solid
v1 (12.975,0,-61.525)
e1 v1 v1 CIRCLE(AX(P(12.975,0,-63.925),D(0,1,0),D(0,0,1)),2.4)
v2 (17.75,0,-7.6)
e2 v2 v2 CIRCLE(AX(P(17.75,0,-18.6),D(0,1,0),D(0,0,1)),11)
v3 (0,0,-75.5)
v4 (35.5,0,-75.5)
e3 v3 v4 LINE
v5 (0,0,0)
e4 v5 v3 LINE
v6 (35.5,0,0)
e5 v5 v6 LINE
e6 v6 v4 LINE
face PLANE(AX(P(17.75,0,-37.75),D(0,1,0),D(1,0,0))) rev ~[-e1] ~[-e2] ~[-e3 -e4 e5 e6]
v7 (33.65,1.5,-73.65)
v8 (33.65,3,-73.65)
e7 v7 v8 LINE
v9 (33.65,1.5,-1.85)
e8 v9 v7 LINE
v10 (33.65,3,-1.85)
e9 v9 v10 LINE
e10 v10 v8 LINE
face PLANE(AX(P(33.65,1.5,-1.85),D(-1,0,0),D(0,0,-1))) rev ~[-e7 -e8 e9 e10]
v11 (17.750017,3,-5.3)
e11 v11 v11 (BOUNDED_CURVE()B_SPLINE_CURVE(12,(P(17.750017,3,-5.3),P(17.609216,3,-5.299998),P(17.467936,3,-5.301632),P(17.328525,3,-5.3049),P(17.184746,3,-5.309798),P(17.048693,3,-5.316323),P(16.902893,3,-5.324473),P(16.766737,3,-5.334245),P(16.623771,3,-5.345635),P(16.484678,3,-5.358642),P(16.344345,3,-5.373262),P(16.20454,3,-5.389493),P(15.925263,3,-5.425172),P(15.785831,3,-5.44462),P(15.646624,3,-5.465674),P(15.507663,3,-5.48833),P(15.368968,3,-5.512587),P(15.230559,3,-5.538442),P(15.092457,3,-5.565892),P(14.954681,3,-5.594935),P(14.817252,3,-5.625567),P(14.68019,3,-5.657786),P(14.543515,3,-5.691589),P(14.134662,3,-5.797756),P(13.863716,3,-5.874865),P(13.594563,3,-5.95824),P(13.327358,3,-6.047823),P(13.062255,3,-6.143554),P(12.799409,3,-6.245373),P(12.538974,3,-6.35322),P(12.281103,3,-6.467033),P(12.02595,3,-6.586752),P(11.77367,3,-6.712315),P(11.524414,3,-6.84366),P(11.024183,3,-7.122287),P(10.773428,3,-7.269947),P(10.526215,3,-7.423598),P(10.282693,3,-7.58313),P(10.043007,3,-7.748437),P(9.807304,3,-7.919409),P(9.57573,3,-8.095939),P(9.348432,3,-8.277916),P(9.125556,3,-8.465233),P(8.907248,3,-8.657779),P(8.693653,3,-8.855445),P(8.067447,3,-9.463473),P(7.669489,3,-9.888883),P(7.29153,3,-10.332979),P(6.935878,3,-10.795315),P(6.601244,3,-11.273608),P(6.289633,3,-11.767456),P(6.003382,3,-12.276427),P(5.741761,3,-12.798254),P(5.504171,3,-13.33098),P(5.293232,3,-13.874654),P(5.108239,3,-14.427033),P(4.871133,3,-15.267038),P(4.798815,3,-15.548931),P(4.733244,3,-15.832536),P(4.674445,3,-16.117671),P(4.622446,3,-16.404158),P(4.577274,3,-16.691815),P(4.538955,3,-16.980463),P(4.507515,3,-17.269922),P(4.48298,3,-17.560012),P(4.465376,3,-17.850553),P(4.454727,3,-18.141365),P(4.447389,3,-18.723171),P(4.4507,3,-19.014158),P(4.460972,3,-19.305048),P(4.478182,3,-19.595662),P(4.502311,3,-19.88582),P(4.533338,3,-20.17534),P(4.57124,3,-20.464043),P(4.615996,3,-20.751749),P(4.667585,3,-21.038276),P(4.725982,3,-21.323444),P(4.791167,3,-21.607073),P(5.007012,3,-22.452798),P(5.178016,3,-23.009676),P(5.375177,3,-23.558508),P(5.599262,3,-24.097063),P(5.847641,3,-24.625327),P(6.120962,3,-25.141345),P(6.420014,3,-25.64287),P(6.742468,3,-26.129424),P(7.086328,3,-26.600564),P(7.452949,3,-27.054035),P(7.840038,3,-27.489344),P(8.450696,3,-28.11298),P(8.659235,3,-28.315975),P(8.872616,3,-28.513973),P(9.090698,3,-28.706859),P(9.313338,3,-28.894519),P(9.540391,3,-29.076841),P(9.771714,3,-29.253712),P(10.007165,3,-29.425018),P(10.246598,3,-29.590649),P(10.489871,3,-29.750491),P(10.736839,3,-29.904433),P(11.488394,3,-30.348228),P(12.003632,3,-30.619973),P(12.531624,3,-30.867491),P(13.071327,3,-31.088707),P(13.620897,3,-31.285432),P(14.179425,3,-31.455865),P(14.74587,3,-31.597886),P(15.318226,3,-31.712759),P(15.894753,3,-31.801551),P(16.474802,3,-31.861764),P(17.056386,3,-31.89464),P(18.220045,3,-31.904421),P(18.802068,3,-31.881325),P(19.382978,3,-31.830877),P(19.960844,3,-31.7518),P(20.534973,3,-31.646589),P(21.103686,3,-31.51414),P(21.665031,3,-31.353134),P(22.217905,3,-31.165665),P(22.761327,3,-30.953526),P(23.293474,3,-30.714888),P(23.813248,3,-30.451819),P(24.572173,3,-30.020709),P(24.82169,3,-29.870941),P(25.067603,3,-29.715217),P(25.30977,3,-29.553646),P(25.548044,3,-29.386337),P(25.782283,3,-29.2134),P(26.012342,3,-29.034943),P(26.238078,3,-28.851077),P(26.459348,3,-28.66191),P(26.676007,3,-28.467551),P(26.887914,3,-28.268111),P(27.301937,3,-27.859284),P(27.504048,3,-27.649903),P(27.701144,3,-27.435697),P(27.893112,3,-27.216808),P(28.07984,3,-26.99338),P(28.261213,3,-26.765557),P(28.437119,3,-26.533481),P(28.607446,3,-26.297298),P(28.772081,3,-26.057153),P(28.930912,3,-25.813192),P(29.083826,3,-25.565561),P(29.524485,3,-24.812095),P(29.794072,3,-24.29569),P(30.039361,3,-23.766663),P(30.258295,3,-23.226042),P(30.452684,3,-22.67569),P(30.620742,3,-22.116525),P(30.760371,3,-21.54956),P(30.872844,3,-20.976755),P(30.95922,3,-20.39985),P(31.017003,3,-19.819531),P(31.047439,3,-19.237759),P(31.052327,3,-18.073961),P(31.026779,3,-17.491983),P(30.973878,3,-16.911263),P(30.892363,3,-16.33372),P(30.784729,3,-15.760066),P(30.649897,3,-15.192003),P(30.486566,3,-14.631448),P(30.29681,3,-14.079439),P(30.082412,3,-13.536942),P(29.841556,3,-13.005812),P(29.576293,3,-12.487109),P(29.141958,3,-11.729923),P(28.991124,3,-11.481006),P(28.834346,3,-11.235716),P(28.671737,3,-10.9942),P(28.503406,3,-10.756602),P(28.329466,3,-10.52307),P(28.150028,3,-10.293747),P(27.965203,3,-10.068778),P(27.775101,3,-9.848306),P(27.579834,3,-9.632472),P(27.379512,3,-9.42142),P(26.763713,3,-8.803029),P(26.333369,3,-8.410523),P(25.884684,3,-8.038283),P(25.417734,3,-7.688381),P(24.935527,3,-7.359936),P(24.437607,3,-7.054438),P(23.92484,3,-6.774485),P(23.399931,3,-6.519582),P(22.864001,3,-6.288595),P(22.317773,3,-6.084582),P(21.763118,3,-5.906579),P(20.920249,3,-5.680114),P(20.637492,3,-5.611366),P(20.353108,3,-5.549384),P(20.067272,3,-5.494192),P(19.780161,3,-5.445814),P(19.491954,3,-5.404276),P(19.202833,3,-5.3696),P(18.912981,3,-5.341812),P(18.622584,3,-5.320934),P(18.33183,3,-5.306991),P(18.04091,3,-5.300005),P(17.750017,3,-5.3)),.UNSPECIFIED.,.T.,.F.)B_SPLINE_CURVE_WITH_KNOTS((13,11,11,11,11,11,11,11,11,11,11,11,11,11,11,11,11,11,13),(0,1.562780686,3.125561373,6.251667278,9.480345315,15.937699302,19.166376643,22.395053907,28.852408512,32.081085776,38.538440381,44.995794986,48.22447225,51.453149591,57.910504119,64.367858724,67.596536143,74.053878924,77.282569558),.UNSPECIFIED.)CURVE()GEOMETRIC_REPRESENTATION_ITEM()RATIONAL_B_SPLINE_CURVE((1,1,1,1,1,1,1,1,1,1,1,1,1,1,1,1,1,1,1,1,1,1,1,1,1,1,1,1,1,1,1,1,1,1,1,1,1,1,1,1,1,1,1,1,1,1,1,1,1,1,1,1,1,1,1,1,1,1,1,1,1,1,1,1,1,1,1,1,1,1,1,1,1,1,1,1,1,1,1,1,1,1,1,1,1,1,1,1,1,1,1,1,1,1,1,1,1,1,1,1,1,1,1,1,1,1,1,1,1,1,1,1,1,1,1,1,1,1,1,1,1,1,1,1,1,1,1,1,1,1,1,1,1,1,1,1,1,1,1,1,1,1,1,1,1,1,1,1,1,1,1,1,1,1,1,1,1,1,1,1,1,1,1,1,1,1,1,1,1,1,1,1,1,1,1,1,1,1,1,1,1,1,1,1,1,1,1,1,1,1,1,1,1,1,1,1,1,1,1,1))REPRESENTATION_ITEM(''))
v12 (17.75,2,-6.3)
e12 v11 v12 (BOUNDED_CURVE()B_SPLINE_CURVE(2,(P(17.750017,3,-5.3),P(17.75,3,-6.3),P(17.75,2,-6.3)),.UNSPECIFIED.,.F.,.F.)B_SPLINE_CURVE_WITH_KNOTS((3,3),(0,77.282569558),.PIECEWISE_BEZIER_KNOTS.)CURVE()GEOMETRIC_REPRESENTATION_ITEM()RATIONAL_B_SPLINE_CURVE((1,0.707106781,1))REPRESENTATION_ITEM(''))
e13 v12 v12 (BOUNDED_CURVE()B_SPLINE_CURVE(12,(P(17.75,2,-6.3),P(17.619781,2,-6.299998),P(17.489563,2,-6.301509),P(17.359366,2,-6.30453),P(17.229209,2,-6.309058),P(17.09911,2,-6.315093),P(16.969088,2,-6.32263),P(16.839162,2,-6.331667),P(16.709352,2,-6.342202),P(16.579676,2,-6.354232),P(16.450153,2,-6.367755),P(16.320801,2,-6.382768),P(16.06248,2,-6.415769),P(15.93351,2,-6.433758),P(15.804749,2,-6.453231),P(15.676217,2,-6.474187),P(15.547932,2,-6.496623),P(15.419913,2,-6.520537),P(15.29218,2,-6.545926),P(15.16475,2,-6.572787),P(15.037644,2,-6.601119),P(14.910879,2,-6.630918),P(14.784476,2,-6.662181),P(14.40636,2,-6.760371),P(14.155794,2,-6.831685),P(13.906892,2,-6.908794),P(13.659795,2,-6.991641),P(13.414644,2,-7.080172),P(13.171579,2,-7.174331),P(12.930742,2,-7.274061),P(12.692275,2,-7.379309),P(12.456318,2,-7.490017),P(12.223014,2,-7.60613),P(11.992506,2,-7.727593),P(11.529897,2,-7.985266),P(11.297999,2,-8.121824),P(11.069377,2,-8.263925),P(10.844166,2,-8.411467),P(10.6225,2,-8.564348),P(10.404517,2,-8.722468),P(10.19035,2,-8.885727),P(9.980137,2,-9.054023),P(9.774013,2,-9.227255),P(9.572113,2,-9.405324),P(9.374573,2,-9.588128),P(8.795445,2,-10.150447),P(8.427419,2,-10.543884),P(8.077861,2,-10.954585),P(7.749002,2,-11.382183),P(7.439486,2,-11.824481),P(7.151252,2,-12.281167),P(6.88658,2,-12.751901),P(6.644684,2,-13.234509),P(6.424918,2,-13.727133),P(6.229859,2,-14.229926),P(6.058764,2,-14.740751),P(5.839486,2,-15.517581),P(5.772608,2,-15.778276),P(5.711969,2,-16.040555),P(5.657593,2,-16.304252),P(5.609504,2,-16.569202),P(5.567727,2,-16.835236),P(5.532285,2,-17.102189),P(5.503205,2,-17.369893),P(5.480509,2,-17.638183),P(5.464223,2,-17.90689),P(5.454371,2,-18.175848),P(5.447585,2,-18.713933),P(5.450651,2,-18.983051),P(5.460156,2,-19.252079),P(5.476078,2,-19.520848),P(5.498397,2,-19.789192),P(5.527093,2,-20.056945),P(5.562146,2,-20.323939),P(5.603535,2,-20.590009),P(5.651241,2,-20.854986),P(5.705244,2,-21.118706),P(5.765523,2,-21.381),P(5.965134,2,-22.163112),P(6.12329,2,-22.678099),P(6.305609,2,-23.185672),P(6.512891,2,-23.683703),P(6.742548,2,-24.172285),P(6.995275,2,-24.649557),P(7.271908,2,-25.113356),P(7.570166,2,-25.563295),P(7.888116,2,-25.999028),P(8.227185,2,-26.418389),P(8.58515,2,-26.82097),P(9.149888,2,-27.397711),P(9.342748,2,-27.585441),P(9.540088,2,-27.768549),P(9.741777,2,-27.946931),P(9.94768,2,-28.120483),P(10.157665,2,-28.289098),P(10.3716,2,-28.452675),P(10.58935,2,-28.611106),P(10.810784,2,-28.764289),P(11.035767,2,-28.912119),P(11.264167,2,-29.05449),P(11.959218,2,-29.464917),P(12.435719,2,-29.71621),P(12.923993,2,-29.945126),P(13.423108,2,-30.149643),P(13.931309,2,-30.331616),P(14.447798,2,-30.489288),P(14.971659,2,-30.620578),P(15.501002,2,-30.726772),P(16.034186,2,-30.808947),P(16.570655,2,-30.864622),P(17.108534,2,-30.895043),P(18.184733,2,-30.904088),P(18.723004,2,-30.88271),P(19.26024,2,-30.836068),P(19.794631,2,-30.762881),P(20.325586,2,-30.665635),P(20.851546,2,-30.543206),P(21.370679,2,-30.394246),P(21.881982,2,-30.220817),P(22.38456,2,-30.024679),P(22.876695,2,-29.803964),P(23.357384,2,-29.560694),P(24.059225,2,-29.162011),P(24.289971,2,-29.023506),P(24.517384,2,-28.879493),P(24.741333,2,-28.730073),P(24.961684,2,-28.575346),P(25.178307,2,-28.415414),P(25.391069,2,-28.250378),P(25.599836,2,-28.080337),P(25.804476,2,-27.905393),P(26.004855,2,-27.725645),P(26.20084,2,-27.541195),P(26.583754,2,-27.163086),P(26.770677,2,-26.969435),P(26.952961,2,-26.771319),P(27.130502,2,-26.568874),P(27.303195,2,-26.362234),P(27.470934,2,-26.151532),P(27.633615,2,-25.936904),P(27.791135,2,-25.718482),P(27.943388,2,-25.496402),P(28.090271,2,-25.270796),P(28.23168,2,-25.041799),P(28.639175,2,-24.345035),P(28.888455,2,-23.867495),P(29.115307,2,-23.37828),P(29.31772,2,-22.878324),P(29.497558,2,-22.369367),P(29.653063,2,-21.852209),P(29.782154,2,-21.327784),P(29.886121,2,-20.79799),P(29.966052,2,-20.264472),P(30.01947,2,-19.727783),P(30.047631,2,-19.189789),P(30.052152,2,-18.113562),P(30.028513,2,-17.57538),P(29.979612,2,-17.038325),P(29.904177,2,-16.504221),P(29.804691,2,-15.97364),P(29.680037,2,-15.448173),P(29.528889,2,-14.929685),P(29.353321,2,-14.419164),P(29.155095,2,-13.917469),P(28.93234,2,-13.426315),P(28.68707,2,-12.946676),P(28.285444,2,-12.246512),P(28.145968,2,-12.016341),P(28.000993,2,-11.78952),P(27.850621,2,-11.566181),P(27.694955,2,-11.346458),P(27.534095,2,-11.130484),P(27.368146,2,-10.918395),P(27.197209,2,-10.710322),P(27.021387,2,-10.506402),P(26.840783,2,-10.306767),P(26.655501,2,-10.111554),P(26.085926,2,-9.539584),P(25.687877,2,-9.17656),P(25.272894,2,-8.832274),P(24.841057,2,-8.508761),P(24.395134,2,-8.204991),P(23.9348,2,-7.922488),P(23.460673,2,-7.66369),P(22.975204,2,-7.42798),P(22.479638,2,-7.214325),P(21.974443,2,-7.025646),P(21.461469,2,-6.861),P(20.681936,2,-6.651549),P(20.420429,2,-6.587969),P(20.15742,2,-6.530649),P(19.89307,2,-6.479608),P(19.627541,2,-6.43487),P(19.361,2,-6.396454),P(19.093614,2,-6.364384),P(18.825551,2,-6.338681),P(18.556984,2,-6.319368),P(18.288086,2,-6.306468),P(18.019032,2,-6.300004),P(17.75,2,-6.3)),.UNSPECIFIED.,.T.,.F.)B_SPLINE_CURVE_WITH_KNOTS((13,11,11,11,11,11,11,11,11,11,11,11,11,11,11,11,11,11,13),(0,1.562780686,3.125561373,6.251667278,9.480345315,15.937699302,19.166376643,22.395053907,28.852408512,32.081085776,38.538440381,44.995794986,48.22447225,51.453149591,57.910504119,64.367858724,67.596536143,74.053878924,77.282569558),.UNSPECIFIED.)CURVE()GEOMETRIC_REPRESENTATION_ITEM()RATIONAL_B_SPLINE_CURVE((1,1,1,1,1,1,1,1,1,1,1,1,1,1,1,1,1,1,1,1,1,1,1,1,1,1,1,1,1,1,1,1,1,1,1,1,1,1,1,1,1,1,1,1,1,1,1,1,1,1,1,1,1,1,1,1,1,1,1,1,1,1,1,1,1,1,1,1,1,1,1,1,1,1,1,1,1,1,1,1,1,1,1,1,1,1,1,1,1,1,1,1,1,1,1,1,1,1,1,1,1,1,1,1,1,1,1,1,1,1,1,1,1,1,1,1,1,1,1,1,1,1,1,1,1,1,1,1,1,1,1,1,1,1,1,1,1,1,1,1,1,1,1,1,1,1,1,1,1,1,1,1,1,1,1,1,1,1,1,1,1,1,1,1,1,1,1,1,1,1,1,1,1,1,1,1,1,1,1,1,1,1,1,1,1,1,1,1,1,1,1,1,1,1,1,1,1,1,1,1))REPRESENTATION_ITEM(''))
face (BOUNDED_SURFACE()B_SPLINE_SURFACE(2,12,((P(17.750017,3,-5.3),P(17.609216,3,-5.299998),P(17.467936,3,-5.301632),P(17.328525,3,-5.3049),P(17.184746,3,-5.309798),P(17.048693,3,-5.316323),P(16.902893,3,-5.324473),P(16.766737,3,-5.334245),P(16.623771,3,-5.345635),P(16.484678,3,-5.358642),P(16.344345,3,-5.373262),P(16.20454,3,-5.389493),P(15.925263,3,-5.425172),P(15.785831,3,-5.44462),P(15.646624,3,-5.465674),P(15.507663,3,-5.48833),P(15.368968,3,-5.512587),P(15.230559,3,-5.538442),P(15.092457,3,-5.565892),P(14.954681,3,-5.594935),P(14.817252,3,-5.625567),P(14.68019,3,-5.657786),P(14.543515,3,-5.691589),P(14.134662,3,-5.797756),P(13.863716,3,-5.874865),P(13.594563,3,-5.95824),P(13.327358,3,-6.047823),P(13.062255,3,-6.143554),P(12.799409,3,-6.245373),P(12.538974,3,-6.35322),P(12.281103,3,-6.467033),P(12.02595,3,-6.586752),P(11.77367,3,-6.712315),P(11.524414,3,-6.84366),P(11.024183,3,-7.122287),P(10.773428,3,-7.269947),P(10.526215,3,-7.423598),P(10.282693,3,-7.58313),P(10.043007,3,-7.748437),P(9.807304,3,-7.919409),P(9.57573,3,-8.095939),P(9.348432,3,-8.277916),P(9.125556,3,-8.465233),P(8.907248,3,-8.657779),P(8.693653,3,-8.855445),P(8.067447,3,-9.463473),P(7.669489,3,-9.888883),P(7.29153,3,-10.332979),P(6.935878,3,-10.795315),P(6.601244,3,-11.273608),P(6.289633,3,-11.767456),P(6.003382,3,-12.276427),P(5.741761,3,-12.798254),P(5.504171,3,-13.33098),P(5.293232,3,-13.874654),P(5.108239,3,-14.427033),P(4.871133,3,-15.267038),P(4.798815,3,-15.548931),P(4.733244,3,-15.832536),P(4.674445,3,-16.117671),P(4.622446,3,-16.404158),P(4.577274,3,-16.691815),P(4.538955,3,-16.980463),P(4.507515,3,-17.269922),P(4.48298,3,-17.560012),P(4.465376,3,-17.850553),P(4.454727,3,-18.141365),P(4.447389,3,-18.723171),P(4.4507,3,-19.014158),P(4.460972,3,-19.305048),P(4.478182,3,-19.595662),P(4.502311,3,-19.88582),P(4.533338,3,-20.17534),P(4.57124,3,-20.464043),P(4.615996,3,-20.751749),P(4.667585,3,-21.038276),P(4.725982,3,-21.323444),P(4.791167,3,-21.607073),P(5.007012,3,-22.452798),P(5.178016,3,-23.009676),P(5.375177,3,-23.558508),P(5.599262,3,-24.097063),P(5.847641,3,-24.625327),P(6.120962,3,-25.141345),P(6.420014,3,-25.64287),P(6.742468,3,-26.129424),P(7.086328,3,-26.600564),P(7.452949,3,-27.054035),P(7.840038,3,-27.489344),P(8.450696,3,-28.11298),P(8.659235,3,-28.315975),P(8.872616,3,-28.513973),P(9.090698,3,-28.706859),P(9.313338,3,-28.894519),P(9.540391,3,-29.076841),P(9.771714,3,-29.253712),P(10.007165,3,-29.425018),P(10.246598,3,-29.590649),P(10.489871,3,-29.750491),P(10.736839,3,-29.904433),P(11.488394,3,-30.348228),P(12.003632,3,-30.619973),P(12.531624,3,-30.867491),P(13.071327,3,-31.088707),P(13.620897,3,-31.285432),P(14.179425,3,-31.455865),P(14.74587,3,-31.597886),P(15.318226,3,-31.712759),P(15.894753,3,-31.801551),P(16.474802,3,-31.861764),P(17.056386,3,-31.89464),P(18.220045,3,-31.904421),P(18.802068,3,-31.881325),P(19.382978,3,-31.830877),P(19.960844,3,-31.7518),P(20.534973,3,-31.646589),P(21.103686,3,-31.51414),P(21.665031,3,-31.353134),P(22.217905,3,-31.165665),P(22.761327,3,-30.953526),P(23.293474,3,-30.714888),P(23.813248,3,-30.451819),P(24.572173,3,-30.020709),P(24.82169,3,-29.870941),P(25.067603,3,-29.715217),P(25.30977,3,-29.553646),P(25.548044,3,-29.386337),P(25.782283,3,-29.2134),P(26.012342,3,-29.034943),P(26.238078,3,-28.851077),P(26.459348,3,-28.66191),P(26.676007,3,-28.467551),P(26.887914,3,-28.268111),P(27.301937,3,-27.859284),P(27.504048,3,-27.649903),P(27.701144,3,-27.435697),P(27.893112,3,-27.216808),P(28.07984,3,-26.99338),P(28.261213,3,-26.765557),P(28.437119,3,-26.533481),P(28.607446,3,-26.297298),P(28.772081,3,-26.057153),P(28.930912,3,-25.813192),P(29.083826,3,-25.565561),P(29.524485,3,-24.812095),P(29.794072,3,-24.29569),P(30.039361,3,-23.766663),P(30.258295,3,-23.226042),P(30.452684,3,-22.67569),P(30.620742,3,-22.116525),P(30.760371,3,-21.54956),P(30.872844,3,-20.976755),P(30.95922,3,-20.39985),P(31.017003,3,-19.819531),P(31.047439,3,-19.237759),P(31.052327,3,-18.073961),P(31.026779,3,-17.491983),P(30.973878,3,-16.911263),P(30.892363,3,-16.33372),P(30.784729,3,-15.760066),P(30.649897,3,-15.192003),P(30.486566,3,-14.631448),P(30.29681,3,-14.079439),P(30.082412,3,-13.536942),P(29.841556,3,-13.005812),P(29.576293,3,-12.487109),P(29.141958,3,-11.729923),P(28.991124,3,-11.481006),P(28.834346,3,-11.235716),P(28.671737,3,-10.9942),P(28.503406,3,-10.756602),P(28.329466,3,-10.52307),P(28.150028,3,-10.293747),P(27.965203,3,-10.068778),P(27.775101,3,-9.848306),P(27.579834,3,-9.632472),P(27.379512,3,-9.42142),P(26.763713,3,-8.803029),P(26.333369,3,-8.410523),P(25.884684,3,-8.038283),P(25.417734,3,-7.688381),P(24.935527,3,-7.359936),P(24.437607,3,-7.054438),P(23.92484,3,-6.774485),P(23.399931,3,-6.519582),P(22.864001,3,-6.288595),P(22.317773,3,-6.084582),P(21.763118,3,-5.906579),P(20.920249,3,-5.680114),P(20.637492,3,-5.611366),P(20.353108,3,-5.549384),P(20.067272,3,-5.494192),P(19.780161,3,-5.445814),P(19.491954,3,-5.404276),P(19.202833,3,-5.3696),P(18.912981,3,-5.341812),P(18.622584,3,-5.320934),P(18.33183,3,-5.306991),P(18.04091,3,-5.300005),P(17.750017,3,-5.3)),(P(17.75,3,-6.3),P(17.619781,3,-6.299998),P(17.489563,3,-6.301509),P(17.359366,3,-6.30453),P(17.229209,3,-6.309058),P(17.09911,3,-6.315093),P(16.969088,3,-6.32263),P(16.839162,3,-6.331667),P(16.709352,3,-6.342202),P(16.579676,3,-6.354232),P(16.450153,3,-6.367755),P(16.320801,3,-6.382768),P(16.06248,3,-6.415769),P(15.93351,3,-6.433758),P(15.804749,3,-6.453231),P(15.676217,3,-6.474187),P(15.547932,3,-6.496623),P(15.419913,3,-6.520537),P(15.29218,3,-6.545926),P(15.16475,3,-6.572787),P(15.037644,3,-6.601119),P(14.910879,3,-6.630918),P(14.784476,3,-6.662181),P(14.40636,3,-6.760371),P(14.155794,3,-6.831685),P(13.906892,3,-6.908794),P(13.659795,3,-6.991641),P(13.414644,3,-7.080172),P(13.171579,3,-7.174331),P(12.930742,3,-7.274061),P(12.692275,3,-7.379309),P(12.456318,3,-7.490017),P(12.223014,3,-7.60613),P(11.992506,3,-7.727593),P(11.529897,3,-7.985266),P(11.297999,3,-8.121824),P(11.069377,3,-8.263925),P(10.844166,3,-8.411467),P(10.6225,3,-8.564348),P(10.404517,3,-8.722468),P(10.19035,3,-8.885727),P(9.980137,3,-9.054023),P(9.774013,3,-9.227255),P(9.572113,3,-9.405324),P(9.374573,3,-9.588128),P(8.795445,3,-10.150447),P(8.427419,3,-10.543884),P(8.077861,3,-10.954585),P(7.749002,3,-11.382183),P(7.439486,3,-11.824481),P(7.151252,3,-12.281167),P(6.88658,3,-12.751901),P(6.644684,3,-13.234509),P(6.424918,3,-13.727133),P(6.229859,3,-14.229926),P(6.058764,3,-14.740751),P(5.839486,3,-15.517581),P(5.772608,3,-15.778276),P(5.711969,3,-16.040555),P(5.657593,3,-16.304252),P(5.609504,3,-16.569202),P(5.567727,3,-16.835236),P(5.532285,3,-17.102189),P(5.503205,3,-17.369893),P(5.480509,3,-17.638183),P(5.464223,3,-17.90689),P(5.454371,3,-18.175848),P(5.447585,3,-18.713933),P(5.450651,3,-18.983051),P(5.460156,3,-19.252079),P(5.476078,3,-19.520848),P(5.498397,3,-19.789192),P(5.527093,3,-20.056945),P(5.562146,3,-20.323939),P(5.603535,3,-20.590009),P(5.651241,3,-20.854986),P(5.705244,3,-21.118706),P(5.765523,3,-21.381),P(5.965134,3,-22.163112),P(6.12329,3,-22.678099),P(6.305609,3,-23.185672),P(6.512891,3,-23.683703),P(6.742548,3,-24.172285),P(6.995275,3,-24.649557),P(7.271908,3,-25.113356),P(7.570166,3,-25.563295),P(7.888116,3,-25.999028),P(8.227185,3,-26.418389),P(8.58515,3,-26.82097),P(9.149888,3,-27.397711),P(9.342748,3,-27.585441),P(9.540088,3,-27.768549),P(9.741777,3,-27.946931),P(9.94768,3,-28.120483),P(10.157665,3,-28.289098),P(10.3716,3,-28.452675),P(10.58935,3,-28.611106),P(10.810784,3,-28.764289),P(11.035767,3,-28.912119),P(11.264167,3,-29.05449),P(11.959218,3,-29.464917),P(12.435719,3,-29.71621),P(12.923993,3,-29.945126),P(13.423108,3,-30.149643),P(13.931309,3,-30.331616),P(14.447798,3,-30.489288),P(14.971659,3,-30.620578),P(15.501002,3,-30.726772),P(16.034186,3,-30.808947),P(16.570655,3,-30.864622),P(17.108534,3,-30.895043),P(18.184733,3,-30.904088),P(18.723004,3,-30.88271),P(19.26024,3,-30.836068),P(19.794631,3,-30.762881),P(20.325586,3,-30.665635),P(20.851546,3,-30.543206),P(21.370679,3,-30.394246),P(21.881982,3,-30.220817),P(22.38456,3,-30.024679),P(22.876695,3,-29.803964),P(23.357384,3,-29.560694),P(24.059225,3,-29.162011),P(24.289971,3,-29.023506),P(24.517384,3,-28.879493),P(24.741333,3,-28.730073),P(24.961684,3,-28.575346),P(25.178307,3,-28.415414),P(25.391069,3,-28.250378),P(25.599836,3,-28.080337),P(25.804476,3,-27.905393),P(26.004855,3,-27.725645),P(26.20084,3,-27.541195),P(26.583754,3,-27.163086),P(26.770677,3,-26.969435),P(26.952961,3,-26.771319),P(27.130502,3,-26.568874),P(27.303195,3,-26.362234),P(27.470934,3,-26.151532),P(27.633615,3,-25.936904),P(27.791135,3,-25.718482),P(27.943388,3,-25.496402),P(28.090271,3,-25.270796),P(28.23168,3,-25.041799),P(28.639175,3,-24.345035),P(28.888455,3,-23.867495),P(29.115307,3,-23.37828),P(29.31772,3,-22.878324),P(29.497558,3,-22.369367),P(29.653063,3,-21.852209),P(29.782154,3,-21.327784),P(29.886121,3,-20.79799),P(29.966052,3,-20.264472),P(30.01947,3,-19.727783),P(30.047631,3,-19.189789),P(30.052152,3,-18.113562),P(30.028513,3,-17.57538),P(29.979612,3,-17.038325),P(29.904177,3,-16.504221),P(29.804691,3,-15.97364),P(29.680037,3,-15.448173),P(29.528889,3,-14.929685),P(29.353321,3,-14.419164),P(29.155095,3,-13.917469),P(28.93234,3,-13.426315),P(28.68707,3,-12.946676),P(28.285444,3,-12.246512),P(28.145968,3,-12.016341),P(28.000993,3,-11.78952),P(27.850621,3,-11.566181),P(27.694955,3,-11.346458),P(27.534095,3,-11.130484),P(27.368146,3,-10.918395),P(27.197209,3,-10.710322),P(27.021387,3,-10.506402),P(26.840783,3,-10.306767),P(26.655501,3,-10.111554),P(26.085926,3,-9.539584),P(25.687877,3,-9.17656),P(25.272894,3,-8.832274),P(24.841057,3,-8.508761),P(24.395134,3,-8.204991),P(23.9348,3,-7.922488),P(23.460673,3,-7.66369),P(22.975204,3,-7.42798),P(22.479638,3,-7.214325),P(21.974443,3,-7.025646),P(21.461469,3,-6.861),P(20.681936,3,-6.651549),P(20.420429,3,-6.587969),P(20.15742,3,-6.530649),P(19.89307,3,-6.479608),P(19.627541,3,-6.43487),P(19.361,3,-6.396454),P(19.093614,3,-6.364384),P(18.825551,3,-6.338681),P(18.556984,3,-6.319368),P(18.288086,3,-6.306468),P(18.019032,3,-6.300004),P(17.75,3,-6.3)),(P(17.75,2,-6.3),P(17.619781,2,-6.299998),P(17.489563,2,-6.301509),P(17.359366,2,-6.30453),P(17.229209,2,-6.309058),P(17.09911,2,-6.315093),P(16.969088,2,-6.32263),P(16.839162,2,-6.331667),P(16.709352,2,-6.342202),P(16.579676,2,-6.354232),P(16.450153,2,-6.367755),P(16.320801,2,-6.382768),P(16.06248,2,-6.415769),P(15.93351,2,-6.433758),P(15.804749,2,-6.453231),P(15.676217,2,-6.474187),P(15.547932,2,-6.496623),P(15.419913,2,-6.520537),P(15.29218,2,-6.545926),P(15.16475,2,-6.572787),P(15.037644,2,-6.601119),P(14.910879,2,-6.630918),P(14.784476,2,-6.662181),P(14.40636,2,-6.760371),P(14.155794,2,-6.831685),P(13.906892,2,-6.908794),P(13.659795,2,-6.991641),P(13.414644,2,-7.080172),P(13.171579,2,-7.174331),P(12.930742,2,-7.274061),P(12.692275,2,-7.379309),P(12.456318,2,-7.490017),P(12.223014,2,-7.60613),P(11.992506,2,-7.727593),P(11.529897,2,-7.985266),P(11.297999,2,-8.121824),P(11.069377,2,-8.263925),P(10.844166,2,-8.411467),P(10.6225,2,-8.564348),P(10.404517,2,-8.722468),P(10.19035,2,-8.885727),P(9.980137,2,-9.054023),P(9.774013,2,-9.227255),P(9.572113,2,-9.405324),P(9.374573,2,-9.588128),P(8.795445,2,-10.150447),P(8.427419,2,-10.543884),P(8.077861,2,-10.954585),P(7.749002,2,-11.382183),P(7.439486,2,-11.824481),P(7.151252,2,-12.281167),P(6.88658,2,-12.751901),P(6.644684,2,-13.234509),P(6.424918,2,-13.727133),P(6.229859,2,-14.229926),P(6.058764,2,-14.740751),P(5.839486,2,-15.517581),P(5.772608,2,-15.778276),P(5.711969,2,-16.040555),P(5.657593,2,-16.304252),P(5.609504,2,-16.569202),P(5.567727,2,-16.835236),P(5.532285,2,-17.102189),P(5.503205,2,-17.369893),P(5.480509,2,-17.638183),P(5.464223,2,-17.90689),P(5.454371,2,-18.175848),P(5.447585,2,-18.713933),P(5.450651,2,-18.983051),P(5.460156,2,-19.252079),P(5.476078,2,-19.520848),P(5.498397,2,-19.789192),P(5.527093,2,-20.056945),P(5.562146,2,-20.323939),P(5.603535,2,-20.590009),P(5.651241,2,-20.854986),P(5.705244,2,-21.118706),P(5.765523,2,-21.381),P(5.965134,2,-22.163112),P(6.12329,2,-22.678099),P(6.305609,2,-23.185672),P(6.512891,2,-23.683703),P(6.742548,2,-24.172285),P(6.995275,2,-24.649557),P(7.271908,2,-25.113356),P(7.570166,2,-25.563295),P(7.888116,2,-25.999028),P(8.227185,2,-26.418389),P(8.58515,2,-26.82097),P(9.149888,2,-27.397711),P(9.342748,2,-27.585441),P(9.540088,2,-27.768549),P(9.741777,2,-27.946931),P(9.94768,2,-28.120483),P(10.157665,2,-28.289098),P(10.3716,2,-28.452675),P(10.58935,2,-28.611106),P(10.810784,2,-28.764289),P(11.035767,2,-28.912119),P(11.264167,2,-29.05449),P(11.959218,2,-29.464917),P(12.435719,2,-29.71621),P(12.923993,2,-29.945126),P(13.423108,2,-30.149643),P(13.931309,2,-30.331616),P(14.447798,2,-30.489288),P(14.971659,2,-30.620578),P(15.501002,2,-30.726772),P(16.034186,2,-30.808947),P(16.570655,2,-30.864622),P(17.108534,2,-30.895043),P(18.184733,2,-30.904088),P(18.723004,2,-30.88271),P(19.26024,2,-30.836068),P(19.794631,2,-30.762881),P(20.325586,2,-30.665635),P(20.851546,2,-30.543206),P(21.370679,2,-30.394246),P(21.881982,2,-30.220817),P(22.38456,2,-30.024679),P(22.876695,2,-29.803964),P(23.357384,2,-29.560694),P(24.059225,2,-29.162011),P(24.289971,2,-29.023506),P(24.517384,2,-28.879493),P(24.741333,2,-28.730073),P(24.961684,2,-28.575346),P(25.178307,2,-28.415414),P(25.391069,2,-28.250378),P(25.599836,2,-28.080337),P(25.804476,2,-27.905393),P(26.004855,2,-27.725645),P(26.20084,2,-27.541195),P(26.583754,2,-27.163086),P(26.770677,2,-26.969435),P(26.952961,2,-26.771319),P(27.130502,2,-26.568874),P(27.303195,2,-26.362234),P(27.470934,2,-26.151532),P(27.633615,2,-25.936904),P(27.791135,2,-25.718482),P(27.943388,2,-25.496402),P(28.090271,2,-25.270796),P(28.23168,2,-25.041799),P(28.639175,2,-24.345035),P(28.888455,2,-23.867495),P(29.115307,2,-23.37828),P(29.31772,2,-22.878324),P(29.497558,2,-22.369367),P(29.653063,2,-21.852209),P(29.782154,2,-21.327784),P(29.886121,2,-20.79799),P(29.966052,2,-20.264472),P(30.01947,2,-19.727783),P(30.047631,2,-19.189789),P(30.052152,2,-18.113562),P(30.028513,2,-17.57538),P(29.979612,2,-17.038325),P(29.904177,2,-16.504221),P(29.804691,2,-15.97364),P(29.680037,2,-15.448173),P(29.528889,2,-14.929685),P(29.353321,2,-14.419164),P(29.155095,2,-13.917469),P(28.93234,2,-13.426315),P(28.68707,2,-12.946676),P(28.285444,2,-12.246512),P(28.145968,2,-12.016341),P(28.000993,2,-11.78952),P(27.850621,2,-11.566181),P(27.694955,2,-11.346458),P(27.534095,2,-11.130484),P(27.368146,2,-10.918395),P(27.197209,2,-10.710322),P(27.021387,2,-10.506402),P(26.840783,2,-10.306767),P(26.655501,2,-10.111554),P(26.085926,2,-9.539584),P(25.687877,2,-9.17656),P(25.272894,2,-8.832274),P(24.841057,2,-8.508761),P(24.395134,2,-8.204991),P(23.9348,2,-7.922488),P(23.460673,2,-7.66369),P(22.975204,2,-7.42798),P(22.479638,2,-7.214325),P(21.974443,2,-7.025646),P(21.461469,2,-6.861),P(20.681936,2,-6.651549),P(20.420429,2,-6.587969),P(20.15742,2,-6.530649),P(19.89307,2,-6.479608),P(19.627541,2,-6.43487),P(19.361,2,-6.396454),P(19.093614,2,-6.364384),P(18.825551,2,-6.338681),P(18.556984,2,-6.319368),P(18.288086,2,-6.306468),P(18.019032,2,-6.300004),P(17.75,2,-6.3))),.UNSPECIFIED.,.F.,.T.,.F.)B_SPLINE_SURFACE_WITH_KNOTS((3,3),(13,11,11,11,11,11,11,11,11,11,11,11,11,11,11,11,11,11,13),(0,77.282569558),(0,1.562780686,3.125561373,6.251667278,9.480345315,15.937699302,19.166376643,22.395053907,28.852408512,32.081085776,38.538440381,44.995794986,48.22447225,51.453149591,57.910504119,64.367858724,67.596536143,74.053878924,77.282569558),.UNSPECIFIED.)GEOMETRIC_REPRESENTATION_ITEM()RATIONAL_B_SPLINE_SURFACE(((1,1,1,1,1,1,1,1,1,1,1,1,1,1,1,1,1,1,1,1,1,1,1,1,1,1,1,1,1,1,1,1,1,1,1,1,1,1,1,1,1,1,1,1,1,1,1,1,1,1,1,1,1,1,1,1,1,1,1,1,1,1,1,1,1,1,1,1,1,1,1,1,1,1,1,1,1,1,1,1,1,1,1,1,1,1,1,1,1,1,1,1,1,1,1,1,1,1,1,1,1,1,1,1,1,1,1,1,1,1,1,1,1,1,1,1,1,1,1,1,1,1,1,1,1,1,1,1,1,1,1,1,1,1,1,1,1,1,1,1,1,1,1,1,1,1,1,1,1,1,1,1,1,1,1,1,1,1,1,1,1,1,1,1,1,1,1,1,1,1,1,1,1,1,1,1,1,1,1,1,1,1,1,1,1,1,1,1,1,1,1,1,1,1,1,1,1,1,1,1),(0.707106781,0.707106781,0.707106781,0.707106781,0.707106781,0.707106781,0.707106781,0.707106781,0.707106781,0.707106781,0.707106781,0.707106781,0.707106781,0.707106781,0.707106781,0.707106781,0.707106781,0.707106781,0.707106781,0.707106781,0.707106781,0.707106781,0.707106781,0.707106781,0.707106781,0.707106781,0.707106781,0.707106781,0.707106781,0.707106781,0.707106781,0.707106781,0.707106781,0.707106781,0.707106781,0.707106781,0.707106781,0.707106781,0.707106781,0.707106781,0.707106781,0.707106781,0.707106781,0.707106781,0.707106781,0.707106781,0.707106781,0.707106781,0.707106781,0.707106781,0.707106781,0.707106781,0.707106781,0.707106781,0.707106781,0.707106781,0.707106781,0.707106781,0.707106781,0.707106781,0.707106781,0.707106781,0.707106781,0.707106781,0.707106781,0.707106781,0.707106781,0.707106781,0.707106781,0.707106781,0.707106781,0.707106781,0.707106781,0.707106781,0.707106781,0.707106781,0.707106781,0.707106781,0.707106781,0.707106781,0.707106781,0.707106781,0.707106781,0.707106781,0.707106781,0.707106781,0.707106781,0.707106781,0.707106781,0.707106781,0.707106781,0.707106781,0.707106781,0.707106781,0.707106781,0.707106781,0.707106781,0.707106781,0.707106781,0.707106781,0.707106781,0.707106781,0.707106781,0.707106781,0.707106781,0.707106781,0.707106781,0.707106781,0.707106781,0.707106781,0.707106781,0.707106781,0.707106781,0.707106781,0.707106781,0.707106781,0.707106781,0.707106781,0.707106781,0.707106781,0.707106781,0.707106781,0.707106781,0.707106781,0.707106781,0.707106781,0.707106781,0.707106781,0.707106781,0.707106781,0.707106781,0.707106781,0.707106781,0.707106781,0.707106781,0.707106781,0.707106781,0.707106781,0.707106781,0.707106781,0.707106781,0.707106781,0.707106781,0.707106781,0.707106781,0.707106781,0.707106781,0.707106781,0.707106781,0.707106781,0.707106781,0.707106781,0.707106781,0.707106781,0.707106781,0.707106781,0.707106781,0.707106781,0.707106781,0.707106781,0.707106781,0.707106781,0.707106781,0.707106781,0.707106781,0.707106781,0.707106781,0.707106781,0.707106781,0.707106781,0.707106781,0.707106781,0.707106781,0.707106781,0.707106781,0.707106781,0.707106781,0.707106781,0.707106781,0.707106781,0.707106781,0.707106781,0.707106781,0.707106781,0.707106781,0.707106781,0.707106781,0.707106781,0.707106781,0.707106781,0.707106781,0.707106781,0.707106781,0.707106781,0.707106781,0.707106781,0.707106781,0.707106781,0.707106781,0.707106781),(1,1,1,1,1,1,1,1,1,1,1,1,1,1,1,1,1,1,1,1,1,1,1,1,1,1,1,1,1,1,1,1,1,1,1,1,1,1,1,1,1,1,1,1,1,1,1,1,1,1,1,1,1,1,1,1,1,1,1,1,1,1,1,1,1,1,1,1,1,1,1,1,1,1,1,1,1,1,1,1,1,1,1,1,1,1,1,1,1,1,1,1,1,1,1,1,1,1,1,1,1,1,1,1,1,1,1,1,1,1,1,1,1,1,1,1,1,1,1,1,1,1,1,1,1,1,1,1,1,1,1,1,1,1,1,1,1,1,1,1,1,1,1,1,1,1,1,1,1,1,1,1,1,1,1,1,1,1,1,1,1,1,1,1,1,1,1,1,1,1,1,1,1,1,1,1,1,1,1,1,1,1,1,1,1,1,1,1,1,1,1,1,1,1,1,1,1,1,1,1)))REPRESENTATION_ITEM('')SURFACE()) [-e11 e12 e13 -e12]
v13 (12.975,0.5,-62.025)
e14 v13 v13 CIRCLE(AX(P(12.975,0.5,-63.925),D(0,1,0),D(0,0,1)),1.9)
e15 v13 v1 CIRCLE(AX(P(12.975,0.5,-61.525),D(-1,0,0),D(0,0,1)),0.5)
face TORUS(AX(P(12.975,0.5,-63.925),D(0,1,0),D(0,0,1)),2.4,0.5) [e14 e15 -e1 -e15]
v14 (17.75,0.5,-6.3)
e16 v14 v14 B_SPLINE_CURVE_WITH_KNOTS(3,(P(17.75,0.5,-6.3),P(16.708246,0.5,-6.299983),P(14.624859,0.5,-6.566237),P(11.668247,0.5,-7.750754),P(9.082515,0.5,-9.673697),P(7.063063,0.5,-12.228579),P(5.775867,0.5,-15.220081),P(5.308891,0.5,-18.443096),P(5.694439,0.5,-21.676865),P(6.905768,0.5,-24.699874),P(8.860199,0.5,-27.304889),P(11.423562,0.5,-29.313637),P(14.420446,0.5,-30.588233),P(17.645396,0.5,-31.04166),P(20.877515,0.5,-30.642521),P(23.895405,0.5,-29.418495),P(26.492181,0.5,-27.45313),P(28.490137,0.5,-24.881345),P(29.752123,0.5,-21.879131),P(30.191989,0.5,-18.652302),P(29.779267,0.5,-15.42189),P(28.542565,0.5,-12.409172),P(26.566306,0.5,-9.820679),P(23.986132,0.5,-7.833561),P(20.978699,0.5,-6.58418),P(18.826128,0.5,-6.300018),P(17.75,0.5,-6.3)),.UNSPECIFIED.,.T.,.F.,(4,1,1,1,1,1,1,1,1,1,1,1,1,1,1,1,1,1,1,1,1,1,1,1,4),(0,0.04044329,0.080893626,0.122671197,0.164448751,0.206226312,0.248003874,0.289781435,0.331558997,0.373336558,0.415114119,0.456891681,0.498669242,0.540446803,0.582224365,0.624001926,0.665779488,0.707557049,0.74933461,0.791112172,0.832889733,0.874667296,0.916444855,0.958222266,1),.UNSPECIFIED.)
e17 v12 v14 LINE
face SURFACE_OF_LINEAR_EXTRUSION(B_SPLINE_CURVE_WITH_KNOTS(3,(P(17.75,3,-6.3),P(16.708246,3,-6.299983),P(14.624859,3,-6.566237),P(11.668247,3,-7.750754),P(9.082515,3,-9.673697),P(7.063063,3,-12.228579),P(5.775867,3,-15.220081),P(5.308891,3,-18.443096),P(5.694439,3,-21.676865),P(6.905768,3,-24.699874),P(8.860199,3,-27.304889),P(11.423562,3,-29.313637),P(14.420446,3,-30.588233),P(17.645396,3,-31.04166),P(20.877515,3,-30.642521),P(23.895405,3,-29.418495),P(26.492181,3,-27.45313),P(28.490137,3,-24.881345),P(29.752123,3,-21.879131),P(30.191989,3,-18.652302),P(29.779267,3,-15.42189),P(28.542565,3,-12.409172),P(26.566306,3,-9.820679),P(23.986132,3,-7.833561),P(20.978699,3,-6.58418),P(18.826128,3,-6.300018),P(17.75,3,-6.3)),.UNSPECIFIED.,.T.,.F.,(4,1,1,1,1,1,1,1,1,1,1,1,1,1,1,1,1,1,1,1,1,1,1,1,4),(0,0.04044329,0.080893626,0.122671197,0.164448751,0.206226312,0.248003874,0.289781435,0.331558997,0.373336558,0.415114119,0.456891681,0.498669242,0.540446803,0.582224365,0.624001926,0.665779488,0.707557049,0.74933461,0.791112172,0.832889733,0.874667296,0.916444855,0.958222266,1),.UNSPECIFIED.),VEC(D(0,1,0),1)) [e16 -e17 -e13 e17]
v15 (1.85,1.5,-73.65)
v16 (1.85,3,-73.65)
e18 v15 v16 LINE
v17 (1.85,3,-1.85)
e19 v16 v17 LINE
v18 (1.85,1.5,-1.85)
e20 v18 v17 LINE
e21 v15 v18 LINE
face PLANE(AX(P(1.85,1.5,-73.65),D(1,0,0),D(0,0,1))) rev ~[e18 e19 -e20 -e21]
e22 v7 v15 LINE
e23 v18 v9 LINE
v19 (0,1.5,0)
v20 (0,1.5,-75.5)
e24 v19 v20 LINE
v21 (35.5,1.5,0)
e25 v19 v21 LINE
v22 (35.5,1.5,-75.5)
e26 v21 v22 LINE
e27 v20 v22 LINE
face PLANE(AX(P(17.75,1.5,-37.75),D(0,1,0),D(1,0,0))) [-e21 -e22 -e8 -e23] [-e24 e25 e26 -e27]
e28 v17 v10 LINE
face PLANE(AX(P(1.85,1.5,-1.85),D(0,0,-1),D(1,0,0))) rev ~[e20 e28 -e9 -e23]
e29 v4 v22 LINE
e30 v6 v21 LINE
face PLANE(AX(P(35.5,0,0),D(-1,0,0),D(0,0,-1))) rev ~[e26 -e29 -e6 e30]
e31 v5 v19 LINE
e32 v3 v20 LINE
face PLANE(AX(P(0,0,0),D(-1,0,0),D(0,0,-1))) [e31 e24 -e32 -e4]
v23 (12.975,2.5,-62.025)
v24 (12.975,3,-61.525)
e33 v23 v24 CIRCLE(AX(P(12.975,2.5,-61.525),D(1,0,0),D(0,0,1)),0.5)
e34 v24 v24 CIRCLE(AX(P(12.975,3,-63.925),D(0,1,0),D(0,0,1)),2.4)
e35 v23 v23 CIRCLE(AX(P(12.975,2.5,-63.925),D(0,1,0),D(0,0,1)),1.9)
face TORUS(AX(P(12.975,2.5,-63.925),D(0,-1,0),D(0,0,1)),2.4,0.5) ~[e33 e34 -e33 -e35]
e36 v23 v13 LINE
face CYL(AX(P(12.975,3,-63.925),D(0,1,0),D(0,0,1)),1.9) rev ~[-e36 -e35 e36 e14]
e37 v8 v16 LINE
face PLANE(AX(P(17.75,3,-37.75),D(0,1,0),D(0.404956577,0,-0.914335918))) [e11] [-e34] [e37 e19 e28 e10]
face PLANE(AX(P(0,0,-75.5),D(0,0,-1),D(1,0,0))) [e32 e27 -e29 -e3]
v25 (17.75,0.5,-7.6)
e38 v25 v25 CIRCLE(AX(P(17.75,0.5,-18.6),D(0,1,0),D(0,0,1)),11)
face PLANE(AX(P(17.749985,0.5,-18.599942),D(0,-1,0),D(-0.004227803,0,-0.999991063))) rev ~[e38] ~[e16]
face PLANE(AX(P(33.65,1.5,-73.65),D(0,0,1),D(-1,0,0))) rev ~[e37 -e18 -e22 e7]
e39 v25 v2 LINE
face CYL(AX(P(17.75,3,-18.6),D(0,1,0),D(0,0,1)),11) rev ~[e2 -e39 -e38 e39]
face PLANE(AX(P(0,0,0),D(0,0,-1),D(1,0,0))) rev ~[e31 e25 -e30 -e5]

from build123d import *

# Parameters (mm, degrees)
SKETCH1_W           = 35.5
SKETCH1_H           = 75.5
BOSS_EXTRUDE1_DEPTH = 1.5
BOSS_EXTRUDE2_DEPTH = 1.5
SKETCH2_R           = 11
CUT_EXTRUDE1_DEPTH  = 10
CUT_EXTRUDE2_DEPTH  = 2.5
SKETCH4_R           = 1.9
CUT_EXTRUDE3_DEPTH  = 6
FILLET1_R           = 0.5
FILLET2_R           = 0.5
FILLET3_R           = 1


with BuildPart() as part:
    # Sketch1 → Boss-Extrude1 (new body)
    with BuildSketch(Plane(origin=(0, 0, 0), x_dir=(1, 0, 0), z_dir=(0, 1, 0))):
        with Locations((17.75, 37.75)):
            Rectangle(SKETCH1_W, SKETCH1_H)
    extrude(amount=BOSS_EXTRUDE1_DEPTH)

    # 3DSketch1 → Boss-Extrude2 (add)
    with BuildSketch(Plane(origin=(1.85, 1.5, -1.85), x_dir=(0.40495657653791334, 0, -0.9143359180950364), z_dir=(0, 1, 0))):
        Polygon((0, 0), (12.877619134, -29.075882195), (78.526938053, 0), (65.649318919, 29.075882195), align=None)
    extrude(amount=BOSS_EXTRUDE2_DEPTH)

    # Sketch2 → Cut-Extrude1 (cut)
    with BuildSketch(Plane(origin=(0, 3, 0), x_dir=(1, 0, 0), z_dir=(0, 1, 0))):
        with Locations(Location((17.75, 18.6, 0), (0, 0, 270))):
            Circle(SKETCH2_R)
    extrude(amount=-CUT_EXTRUDE1_DEPTH, mode=Mode.SUBTRACT)

    # 3DSketch2 → Cut-Extrude2 (cut)
    with BuildSketch(Plane(origin=(17.75, 3, -6.3), x_dir=(-0.004227803372085647, 0, -0.9999910627993868), z_dir=(0, -1, 0))):
        with BuildLine():
            add(Edge.make_bspline(
                [(0, 0), (0.004386995, -1.04174525), (0.27944755, -3.123987084), (1.476453938, -6.075565296), (3.410311469, -8.653144172), (5.973707785, -10.661776555), (8.970625928, -11.936313966), (12.195586401, -12.389659387), (15.427695721, -11.99044335), (18.445556685, -10.766344357), (21.042285232, -8.800917271), (23.040178447, -6.229084123), (24.302092158, -3.226838845), (24.741880785, 0), (24.329080551, 3.230402285), (23.092306587, 6.243090971), (21.115981025, 8.831534564), (18.535772158, 10.818599013), (15.528248734, 12.067881173), (12.299589709, 12.494101301), (9.070951129, 12.06772549), (6.063488405, 10.818297059), (3.483374022, 8.831111933), (1.507182222, 6.242560327), (0.270527087, 3.229871892), (-0.004531746, 1.07611808), (0, 0)],
                knots=[0, 0, 0, 0, 0.04044329, 0.080893626, 0.122671197, 0.164448751, 0.206226312, 0.248003874, 0.289781435, 0.331558997, 0.373336558, 0.415114119, 0.456891681, 0.498669242, 0.540446803, 0.582224365, 0.624001926, 0.665779488, 0.707557049, 0.74933461, 0.791112172, 0.832889733, 0.874667296, 0.916444855, 0.958222266, 1, 1, 1, 1], degree=3))
        make_face()
    extrude(amount=CUT_EXTRUDE2_DEPTH, mode=Mode.SUBTRACT)

    # Sketch4 → Cut-Extrude3 (cut)
    with BuildSketch(Plane(origin=(0, 3, 0), x_dir=(1, 0, 0), z_dir=(0, 1, 0))):
        with Locations(Location((12.975, 63.925, 0), (0, 0, 270))):
            Circle(SKETCH4_R)
    extrude(amount=-CUT_EXTRUDE3_DEPTH, mode=Mode.SUBTRACT)

    # Fillet1
    fillet1_edges = [part.edges().sort_by_distance(p)[0] for p in [
        (12.975, 3, -65.825),
    ]]
    fillet(fillet1_edges, radius=FILLET1_R)

    # Fillet2
    fillet2_edges = [part.edges().sort_by_distance(p)[0] for p in [
        (12.975, 0, -65.825),
    ]]
    fillet(fillet2_edges, radius=FILLET2_R)

    # Fillet3
    fillet3_edges = [part.edges().sort_by_distance(p)[0] for p in [
        (17.749997791, 3, -30.899997542),
    ]]
    fillet(fillet3_edges, radius=FILLET3_R)


solid = part.part
